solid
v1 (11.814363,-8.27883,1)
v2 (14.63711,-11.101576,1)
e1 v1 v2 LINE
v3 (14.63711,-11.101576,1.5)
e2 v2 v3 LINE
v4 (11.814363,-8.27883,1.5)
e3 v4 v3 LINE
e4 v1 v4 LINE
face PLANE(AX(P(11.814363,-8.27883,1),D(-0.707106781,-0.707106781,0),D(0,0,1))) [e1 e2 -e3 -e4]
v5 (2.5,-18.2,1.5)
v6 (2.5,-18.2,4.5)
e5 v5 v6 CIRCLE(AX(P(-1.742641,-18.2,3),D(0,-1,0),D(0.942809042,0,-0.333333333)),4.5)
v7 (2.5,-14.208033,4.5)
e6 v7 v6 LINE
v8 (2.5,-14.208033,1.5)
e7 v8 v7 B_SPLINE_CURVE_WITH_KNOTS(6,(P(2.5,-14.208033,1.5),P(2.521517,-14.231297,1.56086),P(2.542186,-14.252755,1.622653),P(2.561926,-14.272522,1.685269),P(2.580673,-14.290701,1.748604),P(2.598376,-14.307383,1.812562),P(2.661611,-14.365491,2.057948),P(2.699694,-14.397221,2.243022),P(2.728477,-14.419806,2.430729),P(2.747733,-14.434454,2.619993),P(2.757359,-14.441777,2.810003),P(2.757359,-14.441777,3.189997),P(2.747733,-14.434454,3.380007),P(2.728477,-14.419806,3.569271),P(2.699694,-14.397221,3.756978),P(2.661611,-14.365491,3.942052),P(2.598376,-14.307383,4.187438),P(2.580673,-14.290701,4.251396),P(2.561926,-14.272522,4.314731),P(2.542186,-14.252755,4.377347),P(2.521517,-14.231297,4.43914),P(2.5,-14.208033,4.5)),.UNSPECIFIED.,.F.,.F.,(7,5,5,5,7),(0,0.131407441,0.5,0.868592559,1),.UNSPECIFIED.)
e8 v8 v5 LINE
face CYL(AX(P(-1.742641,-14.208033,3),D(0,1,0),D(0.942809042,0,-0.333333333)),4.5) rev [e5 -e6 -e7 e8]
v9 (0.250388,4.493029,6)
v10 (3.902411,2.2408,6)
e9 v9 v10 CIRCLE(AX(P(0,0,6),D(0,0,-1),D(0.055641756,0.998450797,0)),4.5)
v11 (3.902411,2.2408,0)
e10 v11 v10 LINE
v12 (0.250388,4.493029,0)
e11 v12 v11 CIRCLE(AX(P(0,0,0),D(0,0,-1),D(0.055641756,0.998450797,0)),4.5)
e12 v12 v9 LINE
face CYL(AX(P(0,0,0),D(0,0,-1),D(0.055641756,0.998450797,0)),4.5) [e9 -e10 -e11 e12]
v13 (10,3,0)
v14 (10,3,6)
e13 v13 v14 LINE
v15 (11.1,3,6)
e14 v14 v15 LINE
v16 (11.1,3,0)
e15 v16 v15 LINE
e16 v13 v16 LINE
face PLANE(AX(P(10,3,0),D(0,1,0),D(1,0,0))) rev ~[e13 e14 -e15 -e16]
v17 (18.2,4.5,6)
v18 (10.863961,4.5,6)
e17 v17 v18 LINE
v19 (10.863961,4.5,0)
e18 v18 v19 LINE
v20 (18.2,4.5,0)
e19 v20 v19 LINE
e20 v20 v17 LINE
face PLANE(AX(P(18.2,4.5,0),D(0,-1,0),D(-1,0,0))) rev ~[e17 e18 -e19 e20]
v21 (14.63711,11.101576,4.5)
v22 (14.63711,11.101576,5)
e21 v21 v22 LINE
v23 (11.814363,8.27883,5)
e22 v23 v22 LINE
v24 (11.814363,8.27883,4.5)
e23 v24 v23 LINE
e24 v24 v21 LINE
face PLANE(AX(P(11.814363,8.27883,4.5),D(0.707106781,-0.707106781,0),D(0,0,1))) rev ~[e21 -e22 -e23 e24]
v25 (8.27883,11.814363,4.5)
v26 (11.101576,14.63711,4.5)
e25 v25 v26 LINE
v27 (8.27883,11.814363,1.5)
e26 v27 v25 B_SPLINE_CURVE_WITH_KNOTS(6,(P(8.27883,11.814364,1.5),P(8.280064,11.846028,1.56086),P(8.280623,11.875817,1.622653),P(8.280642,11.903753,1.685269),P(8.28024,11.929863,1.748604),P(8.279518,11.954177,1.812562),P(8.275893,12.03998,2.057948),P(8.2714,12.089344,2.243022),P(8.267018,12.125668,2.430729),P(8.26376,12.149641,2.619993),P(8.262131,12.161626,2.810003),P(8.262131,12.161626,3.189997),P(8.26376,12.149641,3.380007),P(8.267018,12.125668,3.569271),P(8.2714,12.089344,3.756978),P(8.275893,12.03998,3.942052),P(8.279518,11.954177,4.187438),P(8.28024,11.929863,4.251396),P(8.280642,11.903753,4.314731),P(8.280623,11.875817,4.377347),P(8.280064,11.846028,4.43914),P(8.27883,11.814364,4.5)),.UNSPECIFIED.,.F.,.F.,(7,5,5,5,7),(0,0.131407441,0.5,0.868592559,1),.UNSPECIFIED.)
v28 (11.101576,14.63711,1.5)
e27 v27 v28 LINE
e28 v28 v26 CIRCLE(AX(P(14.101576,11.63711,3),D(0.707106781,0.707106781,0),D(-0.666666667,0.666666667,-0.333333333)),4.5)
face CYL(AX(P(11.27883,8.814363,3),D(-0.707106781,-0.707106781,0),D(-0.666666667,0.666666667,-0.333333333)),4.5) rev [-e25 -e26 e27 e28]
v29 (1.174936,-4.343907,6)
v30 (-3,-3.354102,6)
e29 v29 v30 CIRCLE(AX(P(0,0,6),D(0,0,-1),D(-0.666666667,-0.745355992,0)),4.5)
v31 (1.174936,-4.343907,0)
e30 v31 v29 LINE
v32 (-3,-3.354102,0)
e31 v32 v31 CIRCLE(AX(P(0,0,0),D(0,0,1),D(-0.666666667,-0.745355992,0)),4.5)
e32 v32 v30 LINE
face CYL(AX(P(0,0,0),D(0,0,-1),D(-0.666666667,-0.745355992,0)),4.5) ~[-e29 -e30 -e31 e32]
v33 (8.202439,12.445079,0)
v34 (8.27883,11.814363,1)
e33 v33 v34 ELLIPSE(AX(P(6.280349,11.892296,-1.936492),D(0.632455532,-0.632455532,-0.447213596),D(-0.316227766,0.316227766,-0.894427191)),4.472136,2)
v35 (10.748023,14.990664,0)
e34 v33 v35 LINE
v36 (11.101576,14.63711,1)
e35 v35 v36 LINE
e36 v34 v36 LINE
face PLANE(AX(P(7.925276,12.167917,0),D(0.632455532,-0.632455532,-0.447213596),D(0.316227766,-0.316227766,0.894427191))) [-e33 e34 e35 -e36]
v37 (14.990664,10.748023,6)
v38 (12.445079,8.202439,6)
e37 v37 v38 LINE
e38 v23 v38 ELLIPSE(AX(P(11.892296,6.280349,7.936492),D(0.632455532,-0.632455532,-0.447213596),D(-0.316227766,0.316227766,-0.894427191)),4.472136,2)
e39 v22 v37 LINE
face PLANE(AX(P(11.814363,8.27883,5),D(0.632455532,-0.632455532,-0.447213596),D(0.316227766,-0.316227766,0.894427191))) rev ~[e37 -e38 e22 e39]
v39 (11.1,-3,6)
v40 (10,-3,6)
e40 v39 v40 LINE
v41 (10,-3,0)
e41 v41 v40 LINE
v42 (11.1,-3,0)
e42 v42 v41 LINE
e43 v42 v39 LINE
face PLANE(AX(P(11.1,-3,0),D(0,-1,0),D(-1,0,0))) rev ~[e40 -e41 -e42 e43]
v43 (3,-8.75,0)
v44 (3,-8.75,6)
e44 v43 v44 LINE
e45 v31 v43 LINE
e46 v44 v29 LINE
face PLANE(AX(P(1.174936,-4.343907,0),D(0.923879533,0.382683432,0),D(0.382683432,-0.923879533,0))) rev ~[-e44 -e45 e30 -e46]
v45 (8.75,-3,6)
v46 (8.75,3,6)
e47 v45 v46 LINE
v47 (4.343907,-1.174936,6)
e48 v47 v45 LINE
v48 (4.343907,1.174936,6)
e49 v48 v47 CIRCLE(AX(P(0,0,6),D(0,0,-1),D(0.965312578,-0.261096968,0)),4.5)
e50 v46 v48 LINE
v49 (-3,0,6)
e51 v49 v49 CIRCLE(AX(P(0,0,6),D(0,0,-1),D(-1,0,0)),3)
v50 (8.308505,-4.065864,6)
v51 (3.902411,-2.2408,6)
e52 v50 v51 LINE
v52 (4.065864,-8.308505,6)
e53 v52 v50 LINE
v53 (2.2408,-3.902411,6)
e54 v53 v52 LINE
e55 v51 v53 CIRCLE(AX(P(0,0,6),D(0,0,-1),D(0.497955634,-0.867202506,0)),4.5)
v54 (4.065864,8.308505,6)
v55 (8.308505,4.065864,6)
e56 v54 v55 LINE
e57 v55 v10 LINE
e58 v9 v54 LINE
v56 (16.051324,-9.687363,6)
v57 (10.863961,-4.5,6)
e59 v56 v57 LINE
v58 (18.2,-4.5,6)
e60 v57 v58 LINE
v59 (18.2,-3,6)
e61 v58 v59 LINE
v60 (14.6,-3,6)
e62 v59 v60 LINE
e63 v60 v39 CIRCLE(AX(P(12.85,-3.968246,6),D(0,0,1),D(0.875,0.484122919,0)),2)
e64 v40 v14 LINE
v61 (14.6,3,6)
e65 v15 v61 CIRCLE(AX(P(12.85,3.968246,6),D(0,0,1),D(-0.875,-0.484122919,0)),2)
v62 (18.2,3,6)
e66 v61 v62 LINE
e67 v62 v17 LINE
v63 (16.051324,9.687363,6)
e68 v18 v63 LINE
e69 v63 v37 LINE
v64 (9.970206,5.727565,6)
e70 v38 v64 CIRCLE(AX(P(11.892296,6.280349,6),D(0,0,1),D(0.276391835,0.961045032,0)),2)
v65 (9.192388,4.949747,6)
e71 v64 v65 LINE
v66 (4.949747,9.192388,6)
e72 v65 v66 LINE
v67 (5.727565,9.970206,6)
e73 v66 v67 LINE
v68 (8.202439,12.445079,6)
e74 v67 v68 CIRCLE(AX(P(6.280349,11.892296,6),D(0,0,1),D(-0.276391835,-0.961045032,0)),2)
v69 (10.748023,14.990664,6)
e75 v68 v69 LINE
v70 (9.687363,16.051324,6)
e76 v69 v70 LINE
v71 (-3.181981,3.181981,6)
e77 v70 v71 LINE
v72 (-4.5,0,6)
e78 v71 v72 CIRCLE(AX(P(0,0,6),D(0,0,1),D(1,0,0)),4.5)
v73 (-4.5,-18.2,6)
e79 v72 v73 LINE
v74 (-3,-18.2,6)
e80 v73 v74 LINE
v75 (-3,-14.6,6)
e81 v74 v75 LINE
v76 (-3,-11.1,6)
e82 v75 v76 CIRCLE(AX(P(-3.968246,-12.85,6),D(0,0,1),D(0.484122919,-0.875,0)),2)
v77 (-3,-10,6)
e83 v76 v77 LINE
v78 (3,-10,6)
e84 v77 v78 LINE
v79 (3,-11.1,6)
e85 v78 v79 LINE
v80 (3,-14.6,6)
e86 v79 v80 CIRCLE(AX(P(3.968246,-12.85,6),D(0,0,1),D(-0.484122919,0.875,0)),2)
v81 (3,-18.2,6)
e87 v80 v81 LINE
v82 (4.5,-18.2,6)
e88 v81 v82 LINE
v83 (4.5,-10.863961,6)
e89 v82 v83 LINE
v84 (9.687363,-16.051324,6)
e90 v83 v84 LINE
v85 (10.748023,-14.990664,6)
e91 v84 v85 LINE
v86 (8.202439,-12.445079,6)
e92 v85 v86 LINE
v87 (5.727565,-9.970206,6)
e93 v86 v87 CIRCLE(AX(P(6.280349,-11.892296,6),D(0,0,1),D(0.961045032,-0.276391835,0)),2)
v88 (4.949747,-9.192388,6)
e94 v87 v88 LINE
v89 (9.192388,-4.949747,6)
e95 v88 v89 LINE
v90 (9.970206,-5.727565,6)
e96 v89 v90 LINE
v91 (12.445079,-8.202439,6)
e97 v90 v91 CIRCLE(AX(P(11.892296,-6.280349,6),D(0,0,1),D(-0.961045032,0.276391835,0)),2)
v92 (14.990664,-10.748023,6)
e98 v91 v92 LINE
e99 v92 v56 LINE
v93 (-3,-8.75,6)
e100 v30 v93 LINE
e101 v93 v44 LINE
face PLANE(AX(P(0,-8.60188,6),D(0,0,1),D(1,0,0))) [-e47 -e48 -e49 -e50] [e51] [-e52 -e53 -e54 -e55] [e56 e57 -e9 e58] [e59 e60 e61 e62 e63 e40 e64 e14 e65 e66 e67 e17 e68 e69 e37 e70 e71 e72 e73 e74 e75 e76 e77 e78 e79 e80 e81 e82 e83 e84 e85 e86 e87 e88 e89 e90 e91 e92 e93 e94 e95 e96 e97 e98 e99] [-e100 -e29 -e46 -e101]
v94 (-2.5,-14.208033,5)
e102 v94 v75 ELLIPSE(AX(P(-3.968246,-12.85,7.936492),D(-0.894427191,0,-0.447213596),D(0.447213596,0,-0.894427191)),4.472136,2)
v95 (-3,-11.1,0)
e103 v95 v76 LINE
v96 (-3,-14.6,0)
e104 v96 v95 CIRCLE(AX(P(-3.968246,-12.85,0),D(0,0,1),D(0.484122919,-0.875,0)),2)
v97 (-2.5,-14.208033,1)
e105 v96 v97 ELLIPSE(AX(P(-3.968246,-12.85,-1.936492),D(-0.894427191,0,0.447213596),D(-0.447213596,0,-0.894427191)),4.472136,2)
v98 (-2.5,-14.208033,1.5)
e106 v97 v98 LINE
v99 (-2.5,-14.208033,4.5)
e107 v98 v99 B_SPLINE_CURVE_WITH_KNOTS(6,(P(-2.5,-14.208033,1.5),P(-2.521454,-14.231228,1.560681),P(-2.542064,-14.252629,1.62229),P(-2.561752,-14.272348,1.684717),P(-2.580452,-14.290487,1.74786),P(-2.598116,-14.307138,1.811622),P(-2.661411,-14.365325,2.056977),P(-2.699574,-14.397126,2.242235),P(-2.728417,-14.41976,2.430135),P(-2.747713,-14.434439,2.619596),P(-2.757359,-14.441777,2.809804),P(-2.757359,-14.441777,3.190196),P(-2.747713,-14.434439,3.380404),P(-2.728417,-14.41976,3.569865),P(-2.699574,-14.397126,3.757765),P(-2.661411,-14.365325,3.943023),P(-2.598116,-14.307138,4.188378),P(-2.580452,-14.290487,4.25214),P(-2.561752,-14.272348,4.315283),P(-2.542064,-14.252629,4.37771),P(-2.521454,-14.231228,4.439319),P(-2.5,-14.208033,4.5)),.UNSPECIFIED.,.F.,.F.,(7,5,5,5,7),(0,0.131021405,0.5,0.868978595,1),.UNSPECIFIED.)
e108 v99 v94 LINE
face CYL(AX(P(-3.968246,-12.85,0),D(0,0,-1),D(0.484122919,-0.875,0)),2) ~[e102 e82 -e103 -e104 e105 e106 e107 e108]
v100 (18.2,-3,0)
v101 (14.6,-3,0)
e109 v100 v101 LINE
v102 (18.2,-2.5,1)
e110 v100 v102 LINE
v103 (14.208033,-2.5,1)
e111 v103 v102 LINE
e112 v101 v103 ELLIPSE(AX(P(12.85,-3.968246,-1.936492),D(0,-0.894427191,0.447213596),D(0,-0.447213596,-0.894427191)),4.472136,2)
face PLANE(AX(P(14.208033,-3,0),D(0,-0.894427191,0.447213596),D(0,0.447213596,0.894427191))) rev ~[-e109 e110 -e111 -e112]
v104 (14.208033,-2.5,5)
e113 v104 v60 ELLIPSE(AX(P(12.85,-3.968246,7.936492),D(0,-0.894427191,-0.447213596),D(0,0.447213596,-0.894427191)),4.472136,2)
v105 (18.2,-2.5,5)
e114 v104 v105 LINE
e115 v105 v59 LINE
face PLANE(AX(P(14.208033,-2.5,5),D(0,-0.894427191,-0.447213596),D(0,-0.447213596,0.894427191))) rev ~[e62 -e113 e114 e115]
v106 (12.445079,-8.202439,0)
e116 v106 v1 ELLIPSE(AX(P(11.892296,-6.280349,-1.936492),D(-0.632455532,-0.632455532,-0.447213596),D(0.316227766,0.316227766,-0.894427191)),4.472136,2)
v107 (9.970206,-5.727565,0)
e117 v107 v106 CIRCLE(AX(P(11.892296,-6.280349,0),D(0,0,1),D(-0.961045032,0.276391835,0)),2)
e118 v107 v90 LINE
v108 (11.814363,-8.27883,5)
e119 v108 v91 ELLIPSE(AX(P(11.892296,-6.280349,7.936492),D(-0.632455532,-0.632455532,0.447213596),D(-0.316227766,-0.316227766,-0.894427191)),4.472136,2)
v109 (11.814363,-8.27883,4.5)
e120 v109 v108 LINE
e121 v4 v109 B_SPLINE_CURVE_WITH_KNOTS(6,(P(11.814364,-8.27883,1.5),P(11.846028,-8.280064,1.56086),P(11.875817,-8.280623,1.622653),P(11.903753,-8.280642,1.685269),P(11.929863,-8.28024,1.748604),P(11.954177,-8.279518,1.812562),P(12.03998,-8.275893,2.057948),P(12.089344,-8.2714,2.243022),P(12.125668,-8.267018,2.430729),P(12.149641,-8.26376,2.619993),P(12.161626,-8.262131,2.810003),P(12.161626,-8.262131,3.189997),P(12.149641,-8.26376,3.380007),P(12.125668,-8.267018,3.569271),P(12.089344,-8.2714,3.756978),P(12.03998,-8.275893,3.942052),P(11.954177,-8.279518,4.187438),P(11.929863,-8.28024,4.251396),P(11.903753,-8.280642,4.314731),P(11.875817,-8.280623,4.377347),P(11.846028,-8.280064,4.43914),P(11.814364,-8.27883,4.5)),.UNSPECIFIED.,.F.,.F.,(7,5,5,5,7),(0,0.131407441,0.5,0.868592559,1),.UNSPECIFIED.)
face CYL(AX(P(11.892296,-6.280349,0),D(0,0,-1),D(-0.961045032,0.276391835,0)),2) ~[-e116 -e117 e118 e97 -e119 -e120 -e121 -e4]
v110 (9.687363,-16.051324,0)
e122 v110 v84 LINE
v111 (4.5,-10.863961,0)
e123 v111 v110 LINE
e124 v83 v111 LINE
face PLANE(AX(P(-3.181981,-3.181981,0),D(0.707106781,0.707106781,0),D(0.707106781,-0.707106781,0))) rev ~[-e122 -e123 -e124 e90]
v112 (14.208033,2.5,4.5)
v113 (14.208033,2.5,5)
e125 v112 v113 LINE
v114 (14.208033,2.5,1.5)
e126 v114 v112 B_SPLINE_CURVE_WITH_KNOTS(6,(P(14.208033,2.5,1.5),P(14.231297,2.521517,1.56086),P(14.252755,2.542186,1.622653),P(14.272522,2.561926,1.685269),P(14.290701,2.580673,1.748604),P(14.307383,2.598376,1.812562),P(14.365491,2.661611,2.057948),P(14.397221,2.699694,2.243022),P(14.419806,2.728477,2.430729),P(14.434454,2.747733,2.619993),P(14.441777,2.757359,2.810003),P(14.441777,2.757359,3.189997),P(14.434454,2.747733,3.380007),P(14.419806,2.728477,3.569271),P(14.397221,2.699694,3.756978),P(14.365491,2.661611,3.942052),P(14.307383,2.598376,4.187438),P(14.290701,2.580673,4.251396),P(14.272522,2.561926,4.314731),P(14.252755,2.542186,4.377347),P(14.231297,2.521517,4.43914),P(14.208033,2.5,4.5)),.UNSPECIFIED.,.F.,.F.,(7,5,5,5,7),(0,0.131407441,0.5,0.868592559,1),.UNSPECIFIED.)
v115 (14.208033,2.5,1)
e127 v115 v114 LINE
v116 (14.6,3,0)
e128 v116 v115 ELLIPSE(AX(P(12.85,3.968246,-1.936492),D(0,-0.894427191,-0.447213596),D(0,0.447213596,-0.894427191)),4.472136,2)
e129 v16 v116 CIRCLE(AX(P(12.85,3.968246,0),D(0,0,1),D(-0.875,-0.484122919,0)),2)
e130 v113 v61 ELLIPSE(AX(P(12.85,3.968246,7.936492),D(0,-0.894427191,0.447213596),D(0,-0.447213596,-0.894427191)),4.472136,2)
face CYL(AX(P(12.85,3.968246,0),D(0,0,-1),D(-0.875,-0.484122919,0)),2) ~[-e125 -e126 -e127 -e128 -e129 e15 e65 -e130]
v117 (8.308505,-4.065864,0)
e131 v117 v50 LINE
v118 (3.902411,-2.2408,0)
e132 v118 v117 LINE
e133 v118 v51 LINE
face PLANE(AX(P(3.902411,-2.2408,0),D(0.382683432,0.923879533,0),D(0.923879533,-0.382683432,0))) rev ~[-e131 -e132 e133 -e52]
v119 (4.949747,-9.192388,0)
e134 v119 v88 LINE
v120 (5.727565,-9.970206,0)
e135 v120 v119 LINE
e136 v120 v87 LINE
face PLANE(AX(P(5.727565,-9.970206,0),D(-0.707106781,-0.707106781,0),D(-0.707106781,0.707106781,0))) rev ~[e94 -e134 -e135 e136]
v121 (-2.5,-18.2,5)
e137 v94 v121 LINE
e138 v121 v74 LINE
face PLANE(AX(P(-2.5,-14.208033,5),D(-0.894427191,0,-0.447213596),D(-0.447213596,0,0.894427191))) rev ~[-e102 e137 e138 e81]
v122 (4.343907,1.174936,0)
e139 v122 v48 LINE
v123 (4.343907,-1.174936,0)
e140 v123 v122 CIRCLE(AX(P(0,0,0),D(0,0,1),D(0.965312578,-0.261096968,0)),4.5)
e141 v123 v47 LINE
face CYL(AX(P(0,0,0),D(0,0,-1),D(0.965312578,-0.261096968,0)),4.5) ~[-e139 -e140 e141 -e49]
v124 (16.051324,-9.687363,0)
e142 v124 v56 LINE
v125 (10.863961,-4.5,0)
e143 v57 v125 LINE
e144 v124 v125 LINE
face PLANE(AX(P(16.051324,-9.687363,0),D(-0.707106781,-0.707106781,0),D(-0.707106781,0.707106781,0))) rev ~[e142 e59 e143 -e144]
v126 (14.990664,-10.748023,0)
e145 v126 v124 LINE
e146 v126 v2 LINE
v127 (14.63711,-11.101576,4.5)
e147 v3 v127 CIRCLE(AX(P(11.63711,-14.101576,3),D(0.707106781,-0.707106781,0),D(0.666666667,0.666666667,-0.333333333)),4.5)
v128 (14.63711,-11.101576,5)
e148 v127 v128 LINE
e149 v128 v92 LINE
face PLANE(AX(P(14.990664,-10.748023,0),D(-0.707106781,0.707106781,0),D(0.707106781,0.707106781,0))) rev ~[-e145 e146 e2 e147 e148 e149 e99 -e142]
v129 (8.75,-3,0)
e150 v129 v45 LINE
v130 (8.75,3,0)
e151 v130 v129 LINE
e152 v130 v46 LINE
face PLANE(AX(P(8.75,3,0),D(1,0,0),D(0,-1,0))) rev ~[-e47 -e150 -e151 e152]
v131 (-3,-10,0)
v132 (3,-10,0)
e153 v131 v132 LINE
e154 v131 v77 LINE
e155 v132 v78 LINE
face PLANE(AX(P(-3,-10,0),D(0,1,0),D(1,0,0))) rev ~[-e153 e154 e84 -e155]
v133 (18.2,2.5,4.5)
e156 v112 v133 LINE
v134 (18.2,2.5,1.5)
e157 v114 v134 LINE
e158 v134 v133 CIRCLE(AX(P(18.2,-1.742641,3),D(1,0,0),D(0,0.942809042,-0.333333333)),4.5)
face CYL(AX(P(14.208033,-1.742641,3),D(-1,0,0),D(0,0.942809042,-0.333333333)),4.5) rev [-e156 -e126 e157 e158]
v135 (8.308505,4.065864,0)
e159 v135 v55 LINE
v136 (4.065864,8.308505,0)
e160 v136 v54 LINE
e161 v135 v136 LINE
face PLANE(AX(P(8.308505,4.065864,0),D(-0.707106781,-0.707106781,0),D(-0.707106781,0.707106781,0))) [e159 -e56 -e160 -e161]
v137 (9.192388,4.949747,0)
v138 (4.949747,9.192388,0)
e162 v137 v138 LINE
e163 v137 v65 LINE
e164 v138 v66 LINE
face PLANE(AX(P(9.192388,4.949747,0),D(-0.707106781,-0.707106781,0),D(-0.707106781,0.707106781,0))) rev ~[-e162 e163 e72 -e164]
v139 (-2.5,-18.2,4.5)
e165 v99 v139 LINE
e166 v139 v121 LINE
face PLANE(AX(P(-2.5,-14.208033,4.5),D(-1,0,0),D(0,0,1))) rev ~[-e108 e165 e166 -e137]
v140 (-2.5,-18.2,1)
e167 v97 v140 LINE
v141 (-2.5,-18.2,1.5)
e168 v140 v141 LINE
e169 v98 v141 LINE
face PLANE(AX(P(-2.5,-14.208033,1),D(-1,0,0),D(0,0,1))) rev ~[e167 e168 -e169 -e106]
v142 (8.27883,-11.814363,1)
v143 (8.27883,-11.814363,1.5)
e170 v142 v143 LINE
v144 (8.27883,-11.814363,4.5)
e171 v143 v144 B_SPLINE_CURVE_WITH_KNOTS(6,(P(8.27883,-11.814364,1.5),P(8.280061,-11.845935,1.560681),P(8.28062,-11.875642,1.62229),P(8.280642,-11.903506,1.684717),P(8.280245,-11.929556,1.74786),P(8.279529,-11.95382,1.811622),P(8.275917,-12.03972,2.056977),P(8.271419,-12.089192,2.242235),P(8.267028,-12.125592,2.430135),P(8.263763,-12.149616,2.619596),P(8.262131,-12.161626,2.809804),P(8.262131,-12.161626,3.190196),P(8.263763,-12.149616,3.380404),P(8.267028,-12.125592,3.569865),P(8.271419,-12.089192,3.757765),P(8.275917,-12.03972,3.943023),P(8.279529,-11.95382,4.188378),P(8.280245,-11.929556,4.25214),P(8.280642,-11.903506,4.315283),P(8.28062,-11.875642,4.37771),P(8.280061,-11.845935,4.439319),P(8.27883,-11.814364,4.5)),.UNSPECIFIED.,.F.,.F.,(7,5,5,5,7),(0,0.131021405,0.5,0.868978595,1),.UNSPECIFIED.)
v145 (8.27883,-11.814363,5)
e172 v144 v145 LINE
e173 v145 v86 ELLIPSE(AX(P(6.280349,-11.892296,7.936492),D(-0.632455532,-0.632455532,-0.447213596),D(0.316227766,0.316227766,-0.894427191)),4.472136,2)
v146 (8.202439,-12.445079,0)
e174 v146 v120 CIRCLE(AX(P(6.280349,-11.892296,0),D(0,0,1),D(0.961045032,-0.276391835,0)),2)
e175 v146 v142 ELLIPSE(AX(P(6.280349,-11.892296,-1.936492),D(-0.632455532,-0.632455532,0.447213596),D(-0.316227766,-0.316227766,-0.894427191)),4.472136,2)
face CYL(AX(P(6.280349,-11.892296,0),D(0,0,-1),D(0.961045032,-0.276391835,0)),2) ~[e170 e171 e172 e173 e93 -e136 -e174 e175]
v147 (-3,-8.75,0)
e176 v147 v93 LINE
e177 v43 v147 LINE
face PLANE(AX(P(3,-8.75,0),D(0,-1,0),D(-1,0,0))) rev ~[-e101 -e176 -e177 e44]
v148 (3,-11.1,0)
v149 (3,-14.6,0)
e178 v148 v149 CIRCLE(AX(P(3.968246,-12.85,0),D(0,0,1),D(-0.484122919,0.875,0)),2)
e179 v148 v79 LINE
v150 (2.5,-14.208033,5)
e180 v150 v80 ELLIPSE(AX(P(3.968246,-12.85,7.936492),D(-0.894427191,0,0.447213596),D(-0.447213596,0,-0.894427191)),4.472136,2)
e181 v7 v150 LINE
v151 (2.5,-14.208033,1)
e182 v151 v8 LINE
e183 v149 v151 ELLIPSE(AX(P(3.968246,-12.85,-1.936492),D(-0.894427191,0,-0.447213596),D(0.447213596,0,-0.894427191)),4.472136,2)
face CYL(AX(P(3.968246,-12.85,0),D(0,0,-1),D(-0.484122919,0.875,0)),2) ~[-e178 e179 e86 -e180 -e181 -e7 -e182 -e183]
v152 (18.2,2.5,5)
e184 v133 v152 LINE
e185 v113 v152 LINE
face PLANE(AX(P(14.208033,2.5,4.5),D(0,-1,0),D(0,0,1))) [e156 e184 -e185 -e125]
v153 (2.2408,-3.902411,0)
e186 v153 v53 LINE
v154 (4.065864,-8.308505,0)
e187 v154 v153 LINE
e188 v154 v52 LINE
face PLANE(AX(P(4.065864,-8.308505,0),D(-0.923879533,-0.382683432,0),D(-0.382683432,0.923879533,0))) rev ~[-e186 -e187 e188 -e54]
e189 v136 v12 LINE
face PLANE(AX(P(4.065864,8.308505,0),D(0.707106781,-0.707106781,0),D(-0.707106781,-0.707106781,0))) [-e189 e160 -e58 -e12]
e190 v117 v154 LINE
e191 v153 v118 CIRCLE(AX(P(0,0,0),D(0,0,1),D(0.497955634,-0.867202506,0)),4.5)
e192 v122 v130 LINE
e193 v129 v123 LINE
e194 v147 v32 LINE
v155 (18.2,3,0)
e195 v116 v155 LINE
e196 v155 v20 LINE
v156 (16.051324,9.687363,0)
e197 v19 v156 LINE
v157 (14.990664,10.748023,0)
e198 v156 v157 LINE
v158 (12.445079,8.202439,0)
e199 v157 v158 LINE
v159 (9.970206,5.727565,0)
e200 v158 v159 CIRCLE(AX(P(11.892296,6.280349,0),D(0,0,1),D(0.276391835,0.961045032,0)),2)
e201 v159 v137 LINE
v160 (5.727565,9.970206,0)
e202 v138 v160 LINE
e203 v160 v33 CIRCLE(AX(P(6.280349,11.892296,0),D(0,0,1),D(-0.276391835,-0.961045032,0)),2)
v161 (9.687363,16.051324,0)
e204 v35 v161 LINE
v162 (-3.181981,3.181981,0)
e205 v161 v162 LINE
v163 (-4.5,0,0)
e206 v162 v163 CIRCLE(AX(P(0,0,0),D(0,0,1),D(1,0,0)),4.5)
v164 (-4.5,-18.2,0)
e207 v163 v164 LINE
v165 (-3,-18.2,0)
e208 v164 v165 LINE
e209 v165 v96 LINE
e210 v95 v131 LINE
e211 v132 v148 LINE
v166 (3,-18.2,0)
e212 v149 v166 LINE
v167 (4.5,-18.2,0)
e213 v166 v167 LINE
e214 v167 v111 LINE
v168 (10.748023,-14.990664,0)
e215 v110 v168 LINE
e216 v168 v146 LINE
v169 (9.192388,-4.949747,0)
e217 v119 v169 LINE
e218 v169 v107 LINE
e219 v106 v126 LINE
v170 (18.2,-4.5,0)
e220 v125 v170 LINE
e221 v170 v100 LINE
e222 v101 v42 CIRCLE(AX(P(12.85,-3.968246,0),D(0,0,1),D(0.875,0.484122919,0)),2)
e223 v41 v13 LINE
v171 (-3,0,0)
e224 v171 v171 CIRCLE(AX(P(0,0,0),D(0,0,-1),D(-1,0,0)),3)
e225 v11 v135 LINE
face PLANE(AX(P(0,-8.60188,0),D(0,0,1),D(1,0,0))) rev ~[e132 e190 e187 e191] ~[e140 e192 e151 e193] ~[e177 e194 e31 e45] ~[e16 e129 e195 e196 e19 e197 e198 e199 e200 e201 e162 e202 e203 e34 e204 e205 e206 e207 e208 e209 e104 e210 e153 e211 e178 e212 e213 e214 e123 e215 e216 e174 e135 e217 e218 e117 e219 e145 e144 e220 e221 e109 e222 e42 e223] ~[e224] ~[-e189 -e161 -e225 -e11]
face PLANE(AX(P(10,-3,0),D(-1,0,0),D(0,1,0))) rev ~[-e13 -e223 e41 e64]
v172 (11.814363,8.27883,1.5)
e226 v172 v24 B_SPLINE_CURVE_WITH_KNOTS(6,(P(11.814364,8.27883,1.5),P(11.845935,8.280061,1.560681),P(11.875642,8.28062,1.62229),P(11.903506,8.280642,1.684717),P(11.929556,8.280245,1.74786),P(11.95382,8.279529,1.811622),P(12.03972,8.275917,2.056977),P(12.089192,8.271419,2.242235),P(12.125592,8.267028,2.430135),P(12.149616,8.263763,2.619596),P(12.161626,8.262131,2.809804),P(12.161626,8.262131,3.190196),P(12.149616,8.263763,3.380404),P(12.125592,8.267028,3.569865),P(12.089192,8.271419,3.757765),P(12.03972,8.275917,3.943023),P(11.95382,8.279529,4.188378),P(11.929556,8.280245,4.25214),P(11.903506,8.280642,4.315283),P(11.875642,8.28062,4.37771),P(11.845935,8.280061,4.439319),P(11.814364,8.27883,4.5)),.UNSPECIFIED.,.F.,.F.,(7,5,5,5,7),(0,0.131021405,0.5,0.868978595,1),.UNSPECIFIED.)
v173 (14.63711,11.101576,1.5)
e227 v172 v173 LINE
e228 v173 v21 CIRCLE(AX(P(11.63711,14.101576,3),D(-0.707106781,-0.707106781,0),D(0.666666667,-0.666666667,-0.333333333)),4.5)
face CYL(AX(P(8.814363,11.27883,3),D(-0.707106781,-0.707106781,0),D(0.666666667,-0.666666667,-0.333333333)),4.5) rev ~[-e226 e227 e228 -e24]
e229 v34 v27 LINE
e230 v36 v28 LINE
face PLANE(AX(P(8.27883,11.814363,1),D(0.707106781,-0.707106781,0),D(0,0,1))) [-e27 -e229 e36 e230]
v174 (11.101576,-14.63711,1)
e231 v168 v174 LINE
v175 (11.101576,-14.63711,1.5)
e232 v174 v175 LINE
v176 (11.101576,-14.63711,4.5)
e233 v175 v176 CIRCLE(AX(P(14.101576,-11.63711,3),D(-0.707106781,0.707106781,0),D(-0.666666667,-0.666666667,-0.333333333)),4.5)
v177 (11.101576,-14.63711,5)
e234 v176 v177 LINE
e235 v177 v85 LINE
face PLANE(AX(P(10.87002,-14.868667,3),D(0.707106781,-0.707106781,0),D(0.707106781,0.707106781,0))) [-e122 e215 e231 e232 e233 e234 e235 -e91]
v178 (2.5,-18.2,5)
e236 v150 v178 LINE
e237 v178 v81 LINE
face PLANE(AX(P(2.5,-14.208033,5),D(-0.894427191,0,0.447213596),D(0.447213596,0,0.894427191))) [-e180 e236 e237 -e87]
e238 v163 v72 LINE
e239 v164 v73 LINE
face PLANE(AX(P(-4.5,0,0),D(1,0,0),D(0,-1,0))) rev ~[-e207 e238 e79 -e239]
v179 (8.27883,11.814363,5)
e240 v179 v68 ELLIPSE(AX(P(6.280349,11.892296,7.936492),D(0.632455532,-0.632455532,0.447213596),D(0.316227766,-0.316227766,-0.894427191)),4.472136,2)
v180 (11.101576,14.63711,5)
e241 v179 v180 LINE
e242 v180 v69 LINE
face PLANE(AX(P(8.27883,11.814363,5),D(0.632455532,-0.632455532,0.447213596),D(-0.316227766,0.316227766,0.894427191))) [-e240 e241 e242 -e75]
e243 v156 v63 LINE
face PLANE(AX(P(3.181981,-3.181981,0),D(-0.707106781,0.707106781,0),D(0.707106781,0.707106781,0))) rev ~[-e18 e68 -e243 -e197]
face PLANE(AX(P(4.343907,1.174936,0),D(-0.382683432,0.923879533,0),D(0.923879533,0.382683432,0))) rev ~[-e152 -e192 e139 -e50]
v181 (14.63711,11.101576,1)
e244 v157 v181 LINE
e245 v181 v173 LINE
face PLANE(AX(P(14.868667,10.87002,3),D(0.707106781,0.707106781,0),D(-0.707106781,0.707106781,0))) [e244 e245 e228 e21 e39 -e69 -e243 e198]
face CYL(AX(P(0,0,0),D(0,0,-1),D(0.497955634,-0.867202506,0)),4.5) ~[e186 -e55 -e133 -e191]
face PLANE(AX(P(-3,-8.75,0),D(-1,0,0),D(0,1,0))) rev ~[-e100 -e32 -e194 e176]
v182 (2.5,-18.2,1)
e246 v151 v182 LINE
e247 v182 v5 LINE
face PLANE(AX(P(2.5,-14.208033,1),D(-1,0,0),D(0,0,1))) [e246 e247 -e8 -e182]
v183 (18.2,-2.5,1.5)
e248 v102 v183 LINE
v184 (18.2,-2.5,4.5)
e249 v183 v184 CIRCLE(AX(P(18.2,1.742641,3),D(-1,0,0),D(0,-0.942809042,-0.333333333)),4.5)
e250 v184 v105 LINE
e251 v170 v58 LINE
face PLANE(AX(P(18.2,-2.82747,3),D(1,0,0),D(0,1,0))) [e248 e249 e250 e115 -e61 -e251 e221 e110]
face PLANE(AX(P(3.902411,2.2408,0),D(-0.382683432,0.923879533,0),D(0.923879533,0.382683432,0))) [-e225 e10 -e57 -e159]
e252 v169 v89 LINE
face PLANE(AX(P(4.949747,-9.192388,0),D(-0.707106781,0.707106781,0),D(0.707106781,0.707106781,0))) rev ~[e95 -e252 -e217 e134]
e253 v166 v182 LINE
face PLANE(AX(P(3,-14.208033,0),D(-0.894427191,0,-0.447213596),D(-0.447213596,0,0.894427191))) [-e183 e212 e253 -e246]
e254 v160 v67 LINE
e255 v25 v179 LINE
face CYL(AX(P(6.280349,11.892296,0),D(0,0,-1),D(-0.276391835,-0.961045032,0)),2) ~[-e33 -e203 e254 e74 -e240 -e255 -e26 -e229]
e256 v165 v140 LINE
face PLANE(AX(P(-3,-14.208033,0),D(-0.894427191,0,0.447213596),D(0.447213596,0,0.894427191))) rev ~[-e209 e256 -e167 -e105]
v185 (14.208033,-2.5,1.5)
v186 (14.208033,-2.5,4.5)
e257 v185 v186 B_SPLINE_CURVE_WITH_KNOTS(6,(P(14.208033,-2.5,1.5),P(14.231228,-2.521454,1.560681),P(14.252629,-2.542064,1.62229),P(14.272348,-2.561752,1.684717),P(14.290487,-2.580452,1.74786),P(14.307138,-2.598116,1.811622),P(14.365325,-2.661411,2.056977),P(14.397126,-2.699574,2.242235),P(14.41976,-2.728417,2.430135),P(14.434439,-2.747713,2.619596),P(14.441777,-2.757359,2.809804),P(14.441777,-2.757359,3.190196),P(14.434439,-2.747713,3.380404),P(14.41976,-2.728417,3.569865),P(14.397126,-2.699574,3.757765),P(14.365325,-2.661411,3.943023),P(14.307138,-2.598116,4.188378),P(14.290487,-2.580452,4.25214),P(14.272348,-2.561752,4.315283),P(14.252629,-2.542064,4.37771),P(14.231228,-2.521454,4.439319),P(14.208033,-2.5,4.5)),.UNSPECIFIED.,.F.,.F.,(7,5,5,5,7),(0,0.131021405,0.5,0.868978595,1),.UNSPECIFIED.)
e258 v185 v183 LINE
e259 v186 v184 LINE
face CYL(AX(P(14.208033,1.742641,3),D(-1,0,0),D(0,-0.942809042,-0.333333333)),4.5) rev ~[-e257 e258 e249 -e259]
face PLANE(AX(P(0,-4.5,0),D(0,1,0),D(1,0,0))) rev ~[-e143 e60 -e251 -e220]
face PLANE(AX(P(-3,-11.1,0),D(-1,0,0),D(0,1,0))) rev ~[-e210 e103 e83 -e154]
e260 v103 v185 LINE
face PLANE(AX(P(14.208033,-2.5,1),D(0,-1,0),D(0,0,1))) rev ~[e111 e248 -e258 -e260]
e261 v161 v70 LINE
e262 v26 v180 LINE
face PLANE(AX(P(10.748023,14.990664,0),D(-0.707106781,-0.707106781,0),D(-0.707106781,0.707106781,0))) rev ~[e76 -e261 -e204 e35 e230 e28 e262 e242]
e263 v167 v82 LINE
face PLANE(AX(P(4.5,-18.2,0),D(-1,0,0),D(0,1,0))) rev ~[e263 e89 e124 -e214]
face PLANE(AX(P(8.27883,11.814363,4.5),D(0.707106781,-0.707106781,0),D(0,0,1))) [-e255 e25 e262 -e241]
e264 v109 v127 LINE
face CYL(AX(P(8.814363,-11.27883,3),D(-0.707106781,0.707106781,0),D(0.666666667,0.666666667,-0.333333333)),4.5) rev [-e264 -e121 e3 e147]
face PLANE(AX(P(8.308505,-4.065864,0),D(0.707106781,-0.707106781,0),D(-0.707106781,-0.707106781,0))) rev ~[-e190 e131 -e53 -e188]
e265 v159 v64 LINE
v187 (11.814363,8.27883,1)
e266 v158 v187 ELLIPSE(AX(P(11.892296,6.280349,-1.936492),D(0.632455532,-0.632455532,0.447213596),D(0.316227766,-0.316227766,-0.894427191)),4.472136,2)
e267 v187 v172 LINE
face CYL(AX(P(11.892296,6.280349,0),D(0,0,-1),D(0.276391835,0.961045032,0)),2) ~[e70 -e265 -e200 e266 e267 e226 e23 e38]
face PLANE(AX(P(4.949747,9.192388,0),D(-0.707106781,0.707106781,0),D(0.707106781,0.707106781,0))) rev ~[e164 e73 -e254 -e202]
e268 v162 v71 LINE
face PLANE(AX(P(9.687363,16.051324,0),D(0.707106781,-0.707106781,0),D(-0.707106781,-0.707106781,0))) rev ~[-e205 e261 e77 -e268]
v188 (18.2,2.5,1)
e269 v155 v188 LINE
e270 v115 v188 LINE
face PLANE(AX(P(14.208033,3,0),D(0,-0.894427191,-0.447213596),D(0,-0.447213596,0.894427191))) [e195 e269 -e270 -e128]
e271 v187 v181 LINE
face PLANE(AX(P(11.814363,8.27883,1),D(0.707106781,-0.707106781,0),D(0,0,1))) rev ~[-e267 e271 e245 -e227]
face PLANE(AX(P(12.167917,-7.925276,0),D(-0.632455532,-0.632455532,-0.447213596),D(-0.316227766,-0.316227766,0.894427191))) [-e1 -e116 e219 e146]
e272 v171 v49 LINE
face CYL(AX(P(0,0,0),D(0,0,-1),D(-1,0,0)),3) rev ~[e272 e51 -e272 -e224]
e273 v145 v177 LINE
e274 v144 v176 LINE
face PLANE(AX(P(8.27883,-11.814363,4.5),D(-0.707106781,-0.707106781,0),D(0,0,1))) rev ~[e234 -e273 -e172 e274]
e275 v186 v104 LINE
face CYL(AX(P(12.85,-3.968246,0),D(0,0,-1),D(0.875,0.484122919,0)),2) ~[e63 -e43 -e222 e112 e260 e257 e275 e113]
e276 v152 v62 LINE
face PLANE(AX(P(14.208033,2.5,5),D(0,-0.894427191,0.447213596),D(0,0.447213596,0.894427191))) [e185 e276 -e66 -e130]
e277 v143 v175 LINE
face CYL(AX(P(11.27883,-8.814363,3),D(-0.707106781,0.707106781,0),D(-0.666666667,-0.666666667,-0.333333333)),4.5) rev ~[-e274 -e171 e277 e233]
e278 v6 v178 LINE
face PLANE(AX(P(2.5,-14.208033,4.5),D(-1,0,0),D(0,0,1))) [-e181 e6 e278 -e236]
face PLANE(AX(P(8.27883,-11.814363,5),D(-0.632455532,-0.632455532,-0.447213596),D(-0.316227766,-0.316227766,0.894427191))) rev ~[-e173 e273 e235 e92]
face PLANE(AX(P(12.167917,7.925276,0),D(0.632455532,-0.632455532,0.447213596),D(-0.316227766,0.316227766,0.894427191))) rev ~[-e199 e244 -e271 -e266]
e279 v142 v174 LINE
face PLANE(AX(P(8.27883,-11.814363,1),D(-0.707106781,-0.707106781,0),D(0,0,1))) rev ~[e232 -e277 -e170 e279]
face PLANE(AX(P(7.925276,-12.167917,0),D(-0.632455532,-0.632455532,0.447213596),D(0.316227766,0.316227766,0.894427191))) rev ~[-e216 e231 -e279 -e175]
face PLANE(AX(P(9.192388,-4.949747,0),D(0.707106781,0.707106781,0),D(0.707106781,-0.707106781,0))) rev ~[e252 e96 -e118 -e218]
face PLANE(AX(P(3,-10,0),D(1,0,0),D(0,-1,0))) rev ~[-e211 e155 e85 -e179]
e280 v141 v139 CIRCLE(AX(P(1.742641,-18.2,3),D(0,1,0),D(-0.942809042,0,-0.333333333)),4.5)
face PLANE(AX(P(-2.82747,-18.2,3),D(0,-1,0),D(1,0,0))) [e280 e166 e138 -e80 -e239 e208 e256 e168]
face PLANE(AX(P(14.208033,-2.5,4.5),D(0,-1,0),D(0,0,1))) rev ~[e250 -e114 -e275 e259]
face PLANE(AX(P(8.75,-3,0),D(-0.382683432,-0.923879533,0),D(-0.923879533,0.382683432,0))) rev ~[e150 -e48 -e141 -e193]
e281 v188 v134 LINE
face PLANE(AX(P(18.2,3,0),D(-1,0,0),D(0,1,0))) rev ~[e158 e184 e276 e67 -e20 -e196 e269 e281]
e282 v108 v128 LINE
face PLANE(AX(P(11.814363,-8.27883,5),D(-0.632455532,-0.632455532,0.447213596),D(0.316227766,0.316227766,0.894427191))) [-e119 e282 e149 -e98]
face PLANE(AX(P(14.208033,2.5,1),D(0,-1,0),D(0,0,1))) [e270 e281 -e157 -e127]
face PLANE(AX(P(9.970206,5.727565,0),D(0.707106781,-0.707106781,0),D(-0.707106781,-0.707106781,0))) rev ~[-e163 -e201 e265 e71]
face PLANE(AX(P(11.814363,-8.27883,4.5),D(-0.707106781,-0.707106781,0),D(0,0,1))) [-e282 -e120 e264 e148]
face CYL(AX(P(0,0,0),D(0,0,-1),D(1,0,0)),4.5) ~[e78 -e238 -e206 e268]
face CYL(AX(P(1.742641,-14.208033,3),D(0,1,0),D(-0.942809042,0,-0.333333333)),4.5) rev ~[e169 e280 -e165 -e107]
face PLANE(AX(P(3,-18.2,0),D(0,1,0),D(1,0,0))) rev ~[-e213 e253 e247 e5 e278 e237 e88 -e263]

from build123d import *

# Parameters (mm, degrees)
EXTRUDE_1_DEPTH          = 6
EXTRUDE_2_REACH          = 25.907
PATTERN_CIRCULAR_1_COUNT = 4
PATTERN_CIRCULAR_1_ANGLE = 135
SKETCH_4_R               = 3
CUT_EXTRUDE_1_DEPTH      = 27.42877236


with BuildPart() as part:
    # 草图1 → 凸台-拉伸1 (new body)
    with BuildSketch(Plane.XY):
        with BuildLine():
            Line((-4.5, 0), (-4.5, -18.2))
            Line((-4.5, -18.2), (-3, -18.2))
            Line((-3, -18.2), (-3, -14.6))
            ThreePointArc((-3, -14.6), (-1.968245837, -12.85), (-3, -11.1))
            Line((-3, -11.1), (-3, -10))
            Line((-3, -10), (3, -10))
            Line((3, -10), (3, -11.1))
            ThreePointArc((3, -11.1), (1.968245837, -12.85), (3, -14.6))
            Line((3, -14.6), (3, -18.2))
            Line((3, -18.2), (4.5, -18.2))
            Line((4.5, -18.2), (4.5, 0))
            ThreePointArc((4.5, 0), (0, 4.5), (-4.5, 0))
        make_face()
    extrude_1 = extrude(amount=EXTRUDE_1_DEPTH)

    # 草图3 → 凸台-拉伸2 (add, up to next)
    with BuildSketch(Plane.XZ.offset(18.2), mode=Mode.PRIVATE) as extrude_2_sk1:
        with BuildLine():
            Line((-3, 6), (-3, 0))
            Line((-3, 0), (-2.5, 1))
            Line((-2.5, 1), (-2.5, 1.5))
            ThreePointArc((-2.5, 1.5), (-2.757359313, 3), (-2.5, 4.5))
            Line((-2.5, 4.5), (-2.5, 5))
            Line((-2.5, 5), (-3, 6))
        make_face()
    extrude_2_tool1 = extrude(extrude_2_sk1.sketch, amount=-EXTRUDE_2_REACH, mode=Mode.PRIVATE) - part.part
    # 草图3 → 凸台-拉伸2 (add, up to next)
    with BuildSketch(Plane.XZ.offset(18.2), mode=Mode.PRIVATE) as extrude_2_sk2:
        with BuildLine():
            Line((3, 0), (2.5, 1))
            Line((2.5, 1), (2.5, 1.5))
            ThreePointArc((2.5, 1.5), (2.757359313, 3), (2.5, 4.5))
            Line((2.5, 4.5), (2.5, 5))
            Line((2.5, 5), (3, 6))
            Line((3, 6), (3, 0))
        make_face()
    extrude_2_tool2 = extrude(extrude_2_sk2.sketch, amount=-EXTRUDE_2_REACH, mode=Mode.PRIVATE) - part.part
    extrude_2_1 = extrude_2_tool1.solids().sort_by_distance((-2.809362, -18.2, 3))[0]
    add(extrude_2_1)
    extrude_2_2 = extrude_2_tool2.solids().sort_by_distance((2.809362, -18.2, 3))[0]
    add(extrude_2_2)
    extrude_2 = extrude_2_1 + extrude_2_2  # 凸台-拉伸2 as one shape, for the pattern or mirror that repeats it

    # 阵列(圆周)1: 凸台-拉伸1, 凸台-拉伸2 ×4 about axis
    pattern_circular_1_axis = Axis((0, 0, 0), (0, 0, 1))
    add([extrude_1.rotate(pattern_circular_1_axis, i * PATTERN_CIRCULAR_1_ANGLE / (PATTERN_CIRCULAR_1_COUNT - 1)) for i in range(1, PATTERN_CIRCULAR_1_COUNT)])
    add([extrude_2.rotate(pattern_circular_1_axis, i * PATTERN_CIRCULAR_1_ANGLE / (PATTERN_CIRCULAR_1_COUNT - 1)) for i in range(1, PATTERN_CIRCULAR_1_COUNT)])

    # 草图4 → 切除-拉伸1 (cut, through all)
    with BuildSketch(Plane(origin=(0, 0, 0), x_dir=(-1, 0, 0), z_dir=(0, 0, -1))):
        Circle(SKETCH_4_R)
        with BuildLine():
            Line((3, -8.75), (3, -3.354101966))
            ThreePointArc((3, -3.354101966), (1.038095674, -4.378625055), (-1.174936357, -4.343906601))
            Line((-1.174936357, -4.343906601), (-3, -8.75))
            Line((-3, -8.75), (3, -8.75))
        make_face()
        with BuildLine():
            Line((-8.308504679, -4.065863992), (-4.065863992, -8.308504679))
            Line((-4.065863992, -8.308504679), (-2.240800349, -3.90241128))
            ThreePointArc((-2.240800349, -3.90241128), (-3.181980515, -3.181980515), (-3.90241128, -2.240800349))
            Line((-3.90241128, -2.240800349), (-8.308504679, -4.065863992))
        make_face()
        with BuildLine():
            Line((-8.75, -3), (-4.343906601, -1.174936357))
            ThreePointArc((-4.343906601, -1.174936357), (-4.5, 0), (-4.343906601, 1.174936357))
            Line((-4.343906601, 1.174936357), (-8.75, 3))
            Line((-8.75, 3), (-8.75, -3))
        make_face()
        with BuildLine():
            Line((-4.065863992, 8.308504679), (-0.250387902, 4.493028589))
            ThreePointArc((-0.250387902, 4.493028589), (-2.362110978, 3.830199959), (-3.90241128, 2.240800349))
            Line((-3.90241128, 2.240800349), (-8.308504679, 4.065863992))
            Line((-8.308504679, 4.065863992), (-4.065863992, 8.308504679))
        make_face()
    extrude(amount=-CUT_EXTRUDE_1_DEPTH, mode=Mode.SUBTRACT)


solid = part.part
